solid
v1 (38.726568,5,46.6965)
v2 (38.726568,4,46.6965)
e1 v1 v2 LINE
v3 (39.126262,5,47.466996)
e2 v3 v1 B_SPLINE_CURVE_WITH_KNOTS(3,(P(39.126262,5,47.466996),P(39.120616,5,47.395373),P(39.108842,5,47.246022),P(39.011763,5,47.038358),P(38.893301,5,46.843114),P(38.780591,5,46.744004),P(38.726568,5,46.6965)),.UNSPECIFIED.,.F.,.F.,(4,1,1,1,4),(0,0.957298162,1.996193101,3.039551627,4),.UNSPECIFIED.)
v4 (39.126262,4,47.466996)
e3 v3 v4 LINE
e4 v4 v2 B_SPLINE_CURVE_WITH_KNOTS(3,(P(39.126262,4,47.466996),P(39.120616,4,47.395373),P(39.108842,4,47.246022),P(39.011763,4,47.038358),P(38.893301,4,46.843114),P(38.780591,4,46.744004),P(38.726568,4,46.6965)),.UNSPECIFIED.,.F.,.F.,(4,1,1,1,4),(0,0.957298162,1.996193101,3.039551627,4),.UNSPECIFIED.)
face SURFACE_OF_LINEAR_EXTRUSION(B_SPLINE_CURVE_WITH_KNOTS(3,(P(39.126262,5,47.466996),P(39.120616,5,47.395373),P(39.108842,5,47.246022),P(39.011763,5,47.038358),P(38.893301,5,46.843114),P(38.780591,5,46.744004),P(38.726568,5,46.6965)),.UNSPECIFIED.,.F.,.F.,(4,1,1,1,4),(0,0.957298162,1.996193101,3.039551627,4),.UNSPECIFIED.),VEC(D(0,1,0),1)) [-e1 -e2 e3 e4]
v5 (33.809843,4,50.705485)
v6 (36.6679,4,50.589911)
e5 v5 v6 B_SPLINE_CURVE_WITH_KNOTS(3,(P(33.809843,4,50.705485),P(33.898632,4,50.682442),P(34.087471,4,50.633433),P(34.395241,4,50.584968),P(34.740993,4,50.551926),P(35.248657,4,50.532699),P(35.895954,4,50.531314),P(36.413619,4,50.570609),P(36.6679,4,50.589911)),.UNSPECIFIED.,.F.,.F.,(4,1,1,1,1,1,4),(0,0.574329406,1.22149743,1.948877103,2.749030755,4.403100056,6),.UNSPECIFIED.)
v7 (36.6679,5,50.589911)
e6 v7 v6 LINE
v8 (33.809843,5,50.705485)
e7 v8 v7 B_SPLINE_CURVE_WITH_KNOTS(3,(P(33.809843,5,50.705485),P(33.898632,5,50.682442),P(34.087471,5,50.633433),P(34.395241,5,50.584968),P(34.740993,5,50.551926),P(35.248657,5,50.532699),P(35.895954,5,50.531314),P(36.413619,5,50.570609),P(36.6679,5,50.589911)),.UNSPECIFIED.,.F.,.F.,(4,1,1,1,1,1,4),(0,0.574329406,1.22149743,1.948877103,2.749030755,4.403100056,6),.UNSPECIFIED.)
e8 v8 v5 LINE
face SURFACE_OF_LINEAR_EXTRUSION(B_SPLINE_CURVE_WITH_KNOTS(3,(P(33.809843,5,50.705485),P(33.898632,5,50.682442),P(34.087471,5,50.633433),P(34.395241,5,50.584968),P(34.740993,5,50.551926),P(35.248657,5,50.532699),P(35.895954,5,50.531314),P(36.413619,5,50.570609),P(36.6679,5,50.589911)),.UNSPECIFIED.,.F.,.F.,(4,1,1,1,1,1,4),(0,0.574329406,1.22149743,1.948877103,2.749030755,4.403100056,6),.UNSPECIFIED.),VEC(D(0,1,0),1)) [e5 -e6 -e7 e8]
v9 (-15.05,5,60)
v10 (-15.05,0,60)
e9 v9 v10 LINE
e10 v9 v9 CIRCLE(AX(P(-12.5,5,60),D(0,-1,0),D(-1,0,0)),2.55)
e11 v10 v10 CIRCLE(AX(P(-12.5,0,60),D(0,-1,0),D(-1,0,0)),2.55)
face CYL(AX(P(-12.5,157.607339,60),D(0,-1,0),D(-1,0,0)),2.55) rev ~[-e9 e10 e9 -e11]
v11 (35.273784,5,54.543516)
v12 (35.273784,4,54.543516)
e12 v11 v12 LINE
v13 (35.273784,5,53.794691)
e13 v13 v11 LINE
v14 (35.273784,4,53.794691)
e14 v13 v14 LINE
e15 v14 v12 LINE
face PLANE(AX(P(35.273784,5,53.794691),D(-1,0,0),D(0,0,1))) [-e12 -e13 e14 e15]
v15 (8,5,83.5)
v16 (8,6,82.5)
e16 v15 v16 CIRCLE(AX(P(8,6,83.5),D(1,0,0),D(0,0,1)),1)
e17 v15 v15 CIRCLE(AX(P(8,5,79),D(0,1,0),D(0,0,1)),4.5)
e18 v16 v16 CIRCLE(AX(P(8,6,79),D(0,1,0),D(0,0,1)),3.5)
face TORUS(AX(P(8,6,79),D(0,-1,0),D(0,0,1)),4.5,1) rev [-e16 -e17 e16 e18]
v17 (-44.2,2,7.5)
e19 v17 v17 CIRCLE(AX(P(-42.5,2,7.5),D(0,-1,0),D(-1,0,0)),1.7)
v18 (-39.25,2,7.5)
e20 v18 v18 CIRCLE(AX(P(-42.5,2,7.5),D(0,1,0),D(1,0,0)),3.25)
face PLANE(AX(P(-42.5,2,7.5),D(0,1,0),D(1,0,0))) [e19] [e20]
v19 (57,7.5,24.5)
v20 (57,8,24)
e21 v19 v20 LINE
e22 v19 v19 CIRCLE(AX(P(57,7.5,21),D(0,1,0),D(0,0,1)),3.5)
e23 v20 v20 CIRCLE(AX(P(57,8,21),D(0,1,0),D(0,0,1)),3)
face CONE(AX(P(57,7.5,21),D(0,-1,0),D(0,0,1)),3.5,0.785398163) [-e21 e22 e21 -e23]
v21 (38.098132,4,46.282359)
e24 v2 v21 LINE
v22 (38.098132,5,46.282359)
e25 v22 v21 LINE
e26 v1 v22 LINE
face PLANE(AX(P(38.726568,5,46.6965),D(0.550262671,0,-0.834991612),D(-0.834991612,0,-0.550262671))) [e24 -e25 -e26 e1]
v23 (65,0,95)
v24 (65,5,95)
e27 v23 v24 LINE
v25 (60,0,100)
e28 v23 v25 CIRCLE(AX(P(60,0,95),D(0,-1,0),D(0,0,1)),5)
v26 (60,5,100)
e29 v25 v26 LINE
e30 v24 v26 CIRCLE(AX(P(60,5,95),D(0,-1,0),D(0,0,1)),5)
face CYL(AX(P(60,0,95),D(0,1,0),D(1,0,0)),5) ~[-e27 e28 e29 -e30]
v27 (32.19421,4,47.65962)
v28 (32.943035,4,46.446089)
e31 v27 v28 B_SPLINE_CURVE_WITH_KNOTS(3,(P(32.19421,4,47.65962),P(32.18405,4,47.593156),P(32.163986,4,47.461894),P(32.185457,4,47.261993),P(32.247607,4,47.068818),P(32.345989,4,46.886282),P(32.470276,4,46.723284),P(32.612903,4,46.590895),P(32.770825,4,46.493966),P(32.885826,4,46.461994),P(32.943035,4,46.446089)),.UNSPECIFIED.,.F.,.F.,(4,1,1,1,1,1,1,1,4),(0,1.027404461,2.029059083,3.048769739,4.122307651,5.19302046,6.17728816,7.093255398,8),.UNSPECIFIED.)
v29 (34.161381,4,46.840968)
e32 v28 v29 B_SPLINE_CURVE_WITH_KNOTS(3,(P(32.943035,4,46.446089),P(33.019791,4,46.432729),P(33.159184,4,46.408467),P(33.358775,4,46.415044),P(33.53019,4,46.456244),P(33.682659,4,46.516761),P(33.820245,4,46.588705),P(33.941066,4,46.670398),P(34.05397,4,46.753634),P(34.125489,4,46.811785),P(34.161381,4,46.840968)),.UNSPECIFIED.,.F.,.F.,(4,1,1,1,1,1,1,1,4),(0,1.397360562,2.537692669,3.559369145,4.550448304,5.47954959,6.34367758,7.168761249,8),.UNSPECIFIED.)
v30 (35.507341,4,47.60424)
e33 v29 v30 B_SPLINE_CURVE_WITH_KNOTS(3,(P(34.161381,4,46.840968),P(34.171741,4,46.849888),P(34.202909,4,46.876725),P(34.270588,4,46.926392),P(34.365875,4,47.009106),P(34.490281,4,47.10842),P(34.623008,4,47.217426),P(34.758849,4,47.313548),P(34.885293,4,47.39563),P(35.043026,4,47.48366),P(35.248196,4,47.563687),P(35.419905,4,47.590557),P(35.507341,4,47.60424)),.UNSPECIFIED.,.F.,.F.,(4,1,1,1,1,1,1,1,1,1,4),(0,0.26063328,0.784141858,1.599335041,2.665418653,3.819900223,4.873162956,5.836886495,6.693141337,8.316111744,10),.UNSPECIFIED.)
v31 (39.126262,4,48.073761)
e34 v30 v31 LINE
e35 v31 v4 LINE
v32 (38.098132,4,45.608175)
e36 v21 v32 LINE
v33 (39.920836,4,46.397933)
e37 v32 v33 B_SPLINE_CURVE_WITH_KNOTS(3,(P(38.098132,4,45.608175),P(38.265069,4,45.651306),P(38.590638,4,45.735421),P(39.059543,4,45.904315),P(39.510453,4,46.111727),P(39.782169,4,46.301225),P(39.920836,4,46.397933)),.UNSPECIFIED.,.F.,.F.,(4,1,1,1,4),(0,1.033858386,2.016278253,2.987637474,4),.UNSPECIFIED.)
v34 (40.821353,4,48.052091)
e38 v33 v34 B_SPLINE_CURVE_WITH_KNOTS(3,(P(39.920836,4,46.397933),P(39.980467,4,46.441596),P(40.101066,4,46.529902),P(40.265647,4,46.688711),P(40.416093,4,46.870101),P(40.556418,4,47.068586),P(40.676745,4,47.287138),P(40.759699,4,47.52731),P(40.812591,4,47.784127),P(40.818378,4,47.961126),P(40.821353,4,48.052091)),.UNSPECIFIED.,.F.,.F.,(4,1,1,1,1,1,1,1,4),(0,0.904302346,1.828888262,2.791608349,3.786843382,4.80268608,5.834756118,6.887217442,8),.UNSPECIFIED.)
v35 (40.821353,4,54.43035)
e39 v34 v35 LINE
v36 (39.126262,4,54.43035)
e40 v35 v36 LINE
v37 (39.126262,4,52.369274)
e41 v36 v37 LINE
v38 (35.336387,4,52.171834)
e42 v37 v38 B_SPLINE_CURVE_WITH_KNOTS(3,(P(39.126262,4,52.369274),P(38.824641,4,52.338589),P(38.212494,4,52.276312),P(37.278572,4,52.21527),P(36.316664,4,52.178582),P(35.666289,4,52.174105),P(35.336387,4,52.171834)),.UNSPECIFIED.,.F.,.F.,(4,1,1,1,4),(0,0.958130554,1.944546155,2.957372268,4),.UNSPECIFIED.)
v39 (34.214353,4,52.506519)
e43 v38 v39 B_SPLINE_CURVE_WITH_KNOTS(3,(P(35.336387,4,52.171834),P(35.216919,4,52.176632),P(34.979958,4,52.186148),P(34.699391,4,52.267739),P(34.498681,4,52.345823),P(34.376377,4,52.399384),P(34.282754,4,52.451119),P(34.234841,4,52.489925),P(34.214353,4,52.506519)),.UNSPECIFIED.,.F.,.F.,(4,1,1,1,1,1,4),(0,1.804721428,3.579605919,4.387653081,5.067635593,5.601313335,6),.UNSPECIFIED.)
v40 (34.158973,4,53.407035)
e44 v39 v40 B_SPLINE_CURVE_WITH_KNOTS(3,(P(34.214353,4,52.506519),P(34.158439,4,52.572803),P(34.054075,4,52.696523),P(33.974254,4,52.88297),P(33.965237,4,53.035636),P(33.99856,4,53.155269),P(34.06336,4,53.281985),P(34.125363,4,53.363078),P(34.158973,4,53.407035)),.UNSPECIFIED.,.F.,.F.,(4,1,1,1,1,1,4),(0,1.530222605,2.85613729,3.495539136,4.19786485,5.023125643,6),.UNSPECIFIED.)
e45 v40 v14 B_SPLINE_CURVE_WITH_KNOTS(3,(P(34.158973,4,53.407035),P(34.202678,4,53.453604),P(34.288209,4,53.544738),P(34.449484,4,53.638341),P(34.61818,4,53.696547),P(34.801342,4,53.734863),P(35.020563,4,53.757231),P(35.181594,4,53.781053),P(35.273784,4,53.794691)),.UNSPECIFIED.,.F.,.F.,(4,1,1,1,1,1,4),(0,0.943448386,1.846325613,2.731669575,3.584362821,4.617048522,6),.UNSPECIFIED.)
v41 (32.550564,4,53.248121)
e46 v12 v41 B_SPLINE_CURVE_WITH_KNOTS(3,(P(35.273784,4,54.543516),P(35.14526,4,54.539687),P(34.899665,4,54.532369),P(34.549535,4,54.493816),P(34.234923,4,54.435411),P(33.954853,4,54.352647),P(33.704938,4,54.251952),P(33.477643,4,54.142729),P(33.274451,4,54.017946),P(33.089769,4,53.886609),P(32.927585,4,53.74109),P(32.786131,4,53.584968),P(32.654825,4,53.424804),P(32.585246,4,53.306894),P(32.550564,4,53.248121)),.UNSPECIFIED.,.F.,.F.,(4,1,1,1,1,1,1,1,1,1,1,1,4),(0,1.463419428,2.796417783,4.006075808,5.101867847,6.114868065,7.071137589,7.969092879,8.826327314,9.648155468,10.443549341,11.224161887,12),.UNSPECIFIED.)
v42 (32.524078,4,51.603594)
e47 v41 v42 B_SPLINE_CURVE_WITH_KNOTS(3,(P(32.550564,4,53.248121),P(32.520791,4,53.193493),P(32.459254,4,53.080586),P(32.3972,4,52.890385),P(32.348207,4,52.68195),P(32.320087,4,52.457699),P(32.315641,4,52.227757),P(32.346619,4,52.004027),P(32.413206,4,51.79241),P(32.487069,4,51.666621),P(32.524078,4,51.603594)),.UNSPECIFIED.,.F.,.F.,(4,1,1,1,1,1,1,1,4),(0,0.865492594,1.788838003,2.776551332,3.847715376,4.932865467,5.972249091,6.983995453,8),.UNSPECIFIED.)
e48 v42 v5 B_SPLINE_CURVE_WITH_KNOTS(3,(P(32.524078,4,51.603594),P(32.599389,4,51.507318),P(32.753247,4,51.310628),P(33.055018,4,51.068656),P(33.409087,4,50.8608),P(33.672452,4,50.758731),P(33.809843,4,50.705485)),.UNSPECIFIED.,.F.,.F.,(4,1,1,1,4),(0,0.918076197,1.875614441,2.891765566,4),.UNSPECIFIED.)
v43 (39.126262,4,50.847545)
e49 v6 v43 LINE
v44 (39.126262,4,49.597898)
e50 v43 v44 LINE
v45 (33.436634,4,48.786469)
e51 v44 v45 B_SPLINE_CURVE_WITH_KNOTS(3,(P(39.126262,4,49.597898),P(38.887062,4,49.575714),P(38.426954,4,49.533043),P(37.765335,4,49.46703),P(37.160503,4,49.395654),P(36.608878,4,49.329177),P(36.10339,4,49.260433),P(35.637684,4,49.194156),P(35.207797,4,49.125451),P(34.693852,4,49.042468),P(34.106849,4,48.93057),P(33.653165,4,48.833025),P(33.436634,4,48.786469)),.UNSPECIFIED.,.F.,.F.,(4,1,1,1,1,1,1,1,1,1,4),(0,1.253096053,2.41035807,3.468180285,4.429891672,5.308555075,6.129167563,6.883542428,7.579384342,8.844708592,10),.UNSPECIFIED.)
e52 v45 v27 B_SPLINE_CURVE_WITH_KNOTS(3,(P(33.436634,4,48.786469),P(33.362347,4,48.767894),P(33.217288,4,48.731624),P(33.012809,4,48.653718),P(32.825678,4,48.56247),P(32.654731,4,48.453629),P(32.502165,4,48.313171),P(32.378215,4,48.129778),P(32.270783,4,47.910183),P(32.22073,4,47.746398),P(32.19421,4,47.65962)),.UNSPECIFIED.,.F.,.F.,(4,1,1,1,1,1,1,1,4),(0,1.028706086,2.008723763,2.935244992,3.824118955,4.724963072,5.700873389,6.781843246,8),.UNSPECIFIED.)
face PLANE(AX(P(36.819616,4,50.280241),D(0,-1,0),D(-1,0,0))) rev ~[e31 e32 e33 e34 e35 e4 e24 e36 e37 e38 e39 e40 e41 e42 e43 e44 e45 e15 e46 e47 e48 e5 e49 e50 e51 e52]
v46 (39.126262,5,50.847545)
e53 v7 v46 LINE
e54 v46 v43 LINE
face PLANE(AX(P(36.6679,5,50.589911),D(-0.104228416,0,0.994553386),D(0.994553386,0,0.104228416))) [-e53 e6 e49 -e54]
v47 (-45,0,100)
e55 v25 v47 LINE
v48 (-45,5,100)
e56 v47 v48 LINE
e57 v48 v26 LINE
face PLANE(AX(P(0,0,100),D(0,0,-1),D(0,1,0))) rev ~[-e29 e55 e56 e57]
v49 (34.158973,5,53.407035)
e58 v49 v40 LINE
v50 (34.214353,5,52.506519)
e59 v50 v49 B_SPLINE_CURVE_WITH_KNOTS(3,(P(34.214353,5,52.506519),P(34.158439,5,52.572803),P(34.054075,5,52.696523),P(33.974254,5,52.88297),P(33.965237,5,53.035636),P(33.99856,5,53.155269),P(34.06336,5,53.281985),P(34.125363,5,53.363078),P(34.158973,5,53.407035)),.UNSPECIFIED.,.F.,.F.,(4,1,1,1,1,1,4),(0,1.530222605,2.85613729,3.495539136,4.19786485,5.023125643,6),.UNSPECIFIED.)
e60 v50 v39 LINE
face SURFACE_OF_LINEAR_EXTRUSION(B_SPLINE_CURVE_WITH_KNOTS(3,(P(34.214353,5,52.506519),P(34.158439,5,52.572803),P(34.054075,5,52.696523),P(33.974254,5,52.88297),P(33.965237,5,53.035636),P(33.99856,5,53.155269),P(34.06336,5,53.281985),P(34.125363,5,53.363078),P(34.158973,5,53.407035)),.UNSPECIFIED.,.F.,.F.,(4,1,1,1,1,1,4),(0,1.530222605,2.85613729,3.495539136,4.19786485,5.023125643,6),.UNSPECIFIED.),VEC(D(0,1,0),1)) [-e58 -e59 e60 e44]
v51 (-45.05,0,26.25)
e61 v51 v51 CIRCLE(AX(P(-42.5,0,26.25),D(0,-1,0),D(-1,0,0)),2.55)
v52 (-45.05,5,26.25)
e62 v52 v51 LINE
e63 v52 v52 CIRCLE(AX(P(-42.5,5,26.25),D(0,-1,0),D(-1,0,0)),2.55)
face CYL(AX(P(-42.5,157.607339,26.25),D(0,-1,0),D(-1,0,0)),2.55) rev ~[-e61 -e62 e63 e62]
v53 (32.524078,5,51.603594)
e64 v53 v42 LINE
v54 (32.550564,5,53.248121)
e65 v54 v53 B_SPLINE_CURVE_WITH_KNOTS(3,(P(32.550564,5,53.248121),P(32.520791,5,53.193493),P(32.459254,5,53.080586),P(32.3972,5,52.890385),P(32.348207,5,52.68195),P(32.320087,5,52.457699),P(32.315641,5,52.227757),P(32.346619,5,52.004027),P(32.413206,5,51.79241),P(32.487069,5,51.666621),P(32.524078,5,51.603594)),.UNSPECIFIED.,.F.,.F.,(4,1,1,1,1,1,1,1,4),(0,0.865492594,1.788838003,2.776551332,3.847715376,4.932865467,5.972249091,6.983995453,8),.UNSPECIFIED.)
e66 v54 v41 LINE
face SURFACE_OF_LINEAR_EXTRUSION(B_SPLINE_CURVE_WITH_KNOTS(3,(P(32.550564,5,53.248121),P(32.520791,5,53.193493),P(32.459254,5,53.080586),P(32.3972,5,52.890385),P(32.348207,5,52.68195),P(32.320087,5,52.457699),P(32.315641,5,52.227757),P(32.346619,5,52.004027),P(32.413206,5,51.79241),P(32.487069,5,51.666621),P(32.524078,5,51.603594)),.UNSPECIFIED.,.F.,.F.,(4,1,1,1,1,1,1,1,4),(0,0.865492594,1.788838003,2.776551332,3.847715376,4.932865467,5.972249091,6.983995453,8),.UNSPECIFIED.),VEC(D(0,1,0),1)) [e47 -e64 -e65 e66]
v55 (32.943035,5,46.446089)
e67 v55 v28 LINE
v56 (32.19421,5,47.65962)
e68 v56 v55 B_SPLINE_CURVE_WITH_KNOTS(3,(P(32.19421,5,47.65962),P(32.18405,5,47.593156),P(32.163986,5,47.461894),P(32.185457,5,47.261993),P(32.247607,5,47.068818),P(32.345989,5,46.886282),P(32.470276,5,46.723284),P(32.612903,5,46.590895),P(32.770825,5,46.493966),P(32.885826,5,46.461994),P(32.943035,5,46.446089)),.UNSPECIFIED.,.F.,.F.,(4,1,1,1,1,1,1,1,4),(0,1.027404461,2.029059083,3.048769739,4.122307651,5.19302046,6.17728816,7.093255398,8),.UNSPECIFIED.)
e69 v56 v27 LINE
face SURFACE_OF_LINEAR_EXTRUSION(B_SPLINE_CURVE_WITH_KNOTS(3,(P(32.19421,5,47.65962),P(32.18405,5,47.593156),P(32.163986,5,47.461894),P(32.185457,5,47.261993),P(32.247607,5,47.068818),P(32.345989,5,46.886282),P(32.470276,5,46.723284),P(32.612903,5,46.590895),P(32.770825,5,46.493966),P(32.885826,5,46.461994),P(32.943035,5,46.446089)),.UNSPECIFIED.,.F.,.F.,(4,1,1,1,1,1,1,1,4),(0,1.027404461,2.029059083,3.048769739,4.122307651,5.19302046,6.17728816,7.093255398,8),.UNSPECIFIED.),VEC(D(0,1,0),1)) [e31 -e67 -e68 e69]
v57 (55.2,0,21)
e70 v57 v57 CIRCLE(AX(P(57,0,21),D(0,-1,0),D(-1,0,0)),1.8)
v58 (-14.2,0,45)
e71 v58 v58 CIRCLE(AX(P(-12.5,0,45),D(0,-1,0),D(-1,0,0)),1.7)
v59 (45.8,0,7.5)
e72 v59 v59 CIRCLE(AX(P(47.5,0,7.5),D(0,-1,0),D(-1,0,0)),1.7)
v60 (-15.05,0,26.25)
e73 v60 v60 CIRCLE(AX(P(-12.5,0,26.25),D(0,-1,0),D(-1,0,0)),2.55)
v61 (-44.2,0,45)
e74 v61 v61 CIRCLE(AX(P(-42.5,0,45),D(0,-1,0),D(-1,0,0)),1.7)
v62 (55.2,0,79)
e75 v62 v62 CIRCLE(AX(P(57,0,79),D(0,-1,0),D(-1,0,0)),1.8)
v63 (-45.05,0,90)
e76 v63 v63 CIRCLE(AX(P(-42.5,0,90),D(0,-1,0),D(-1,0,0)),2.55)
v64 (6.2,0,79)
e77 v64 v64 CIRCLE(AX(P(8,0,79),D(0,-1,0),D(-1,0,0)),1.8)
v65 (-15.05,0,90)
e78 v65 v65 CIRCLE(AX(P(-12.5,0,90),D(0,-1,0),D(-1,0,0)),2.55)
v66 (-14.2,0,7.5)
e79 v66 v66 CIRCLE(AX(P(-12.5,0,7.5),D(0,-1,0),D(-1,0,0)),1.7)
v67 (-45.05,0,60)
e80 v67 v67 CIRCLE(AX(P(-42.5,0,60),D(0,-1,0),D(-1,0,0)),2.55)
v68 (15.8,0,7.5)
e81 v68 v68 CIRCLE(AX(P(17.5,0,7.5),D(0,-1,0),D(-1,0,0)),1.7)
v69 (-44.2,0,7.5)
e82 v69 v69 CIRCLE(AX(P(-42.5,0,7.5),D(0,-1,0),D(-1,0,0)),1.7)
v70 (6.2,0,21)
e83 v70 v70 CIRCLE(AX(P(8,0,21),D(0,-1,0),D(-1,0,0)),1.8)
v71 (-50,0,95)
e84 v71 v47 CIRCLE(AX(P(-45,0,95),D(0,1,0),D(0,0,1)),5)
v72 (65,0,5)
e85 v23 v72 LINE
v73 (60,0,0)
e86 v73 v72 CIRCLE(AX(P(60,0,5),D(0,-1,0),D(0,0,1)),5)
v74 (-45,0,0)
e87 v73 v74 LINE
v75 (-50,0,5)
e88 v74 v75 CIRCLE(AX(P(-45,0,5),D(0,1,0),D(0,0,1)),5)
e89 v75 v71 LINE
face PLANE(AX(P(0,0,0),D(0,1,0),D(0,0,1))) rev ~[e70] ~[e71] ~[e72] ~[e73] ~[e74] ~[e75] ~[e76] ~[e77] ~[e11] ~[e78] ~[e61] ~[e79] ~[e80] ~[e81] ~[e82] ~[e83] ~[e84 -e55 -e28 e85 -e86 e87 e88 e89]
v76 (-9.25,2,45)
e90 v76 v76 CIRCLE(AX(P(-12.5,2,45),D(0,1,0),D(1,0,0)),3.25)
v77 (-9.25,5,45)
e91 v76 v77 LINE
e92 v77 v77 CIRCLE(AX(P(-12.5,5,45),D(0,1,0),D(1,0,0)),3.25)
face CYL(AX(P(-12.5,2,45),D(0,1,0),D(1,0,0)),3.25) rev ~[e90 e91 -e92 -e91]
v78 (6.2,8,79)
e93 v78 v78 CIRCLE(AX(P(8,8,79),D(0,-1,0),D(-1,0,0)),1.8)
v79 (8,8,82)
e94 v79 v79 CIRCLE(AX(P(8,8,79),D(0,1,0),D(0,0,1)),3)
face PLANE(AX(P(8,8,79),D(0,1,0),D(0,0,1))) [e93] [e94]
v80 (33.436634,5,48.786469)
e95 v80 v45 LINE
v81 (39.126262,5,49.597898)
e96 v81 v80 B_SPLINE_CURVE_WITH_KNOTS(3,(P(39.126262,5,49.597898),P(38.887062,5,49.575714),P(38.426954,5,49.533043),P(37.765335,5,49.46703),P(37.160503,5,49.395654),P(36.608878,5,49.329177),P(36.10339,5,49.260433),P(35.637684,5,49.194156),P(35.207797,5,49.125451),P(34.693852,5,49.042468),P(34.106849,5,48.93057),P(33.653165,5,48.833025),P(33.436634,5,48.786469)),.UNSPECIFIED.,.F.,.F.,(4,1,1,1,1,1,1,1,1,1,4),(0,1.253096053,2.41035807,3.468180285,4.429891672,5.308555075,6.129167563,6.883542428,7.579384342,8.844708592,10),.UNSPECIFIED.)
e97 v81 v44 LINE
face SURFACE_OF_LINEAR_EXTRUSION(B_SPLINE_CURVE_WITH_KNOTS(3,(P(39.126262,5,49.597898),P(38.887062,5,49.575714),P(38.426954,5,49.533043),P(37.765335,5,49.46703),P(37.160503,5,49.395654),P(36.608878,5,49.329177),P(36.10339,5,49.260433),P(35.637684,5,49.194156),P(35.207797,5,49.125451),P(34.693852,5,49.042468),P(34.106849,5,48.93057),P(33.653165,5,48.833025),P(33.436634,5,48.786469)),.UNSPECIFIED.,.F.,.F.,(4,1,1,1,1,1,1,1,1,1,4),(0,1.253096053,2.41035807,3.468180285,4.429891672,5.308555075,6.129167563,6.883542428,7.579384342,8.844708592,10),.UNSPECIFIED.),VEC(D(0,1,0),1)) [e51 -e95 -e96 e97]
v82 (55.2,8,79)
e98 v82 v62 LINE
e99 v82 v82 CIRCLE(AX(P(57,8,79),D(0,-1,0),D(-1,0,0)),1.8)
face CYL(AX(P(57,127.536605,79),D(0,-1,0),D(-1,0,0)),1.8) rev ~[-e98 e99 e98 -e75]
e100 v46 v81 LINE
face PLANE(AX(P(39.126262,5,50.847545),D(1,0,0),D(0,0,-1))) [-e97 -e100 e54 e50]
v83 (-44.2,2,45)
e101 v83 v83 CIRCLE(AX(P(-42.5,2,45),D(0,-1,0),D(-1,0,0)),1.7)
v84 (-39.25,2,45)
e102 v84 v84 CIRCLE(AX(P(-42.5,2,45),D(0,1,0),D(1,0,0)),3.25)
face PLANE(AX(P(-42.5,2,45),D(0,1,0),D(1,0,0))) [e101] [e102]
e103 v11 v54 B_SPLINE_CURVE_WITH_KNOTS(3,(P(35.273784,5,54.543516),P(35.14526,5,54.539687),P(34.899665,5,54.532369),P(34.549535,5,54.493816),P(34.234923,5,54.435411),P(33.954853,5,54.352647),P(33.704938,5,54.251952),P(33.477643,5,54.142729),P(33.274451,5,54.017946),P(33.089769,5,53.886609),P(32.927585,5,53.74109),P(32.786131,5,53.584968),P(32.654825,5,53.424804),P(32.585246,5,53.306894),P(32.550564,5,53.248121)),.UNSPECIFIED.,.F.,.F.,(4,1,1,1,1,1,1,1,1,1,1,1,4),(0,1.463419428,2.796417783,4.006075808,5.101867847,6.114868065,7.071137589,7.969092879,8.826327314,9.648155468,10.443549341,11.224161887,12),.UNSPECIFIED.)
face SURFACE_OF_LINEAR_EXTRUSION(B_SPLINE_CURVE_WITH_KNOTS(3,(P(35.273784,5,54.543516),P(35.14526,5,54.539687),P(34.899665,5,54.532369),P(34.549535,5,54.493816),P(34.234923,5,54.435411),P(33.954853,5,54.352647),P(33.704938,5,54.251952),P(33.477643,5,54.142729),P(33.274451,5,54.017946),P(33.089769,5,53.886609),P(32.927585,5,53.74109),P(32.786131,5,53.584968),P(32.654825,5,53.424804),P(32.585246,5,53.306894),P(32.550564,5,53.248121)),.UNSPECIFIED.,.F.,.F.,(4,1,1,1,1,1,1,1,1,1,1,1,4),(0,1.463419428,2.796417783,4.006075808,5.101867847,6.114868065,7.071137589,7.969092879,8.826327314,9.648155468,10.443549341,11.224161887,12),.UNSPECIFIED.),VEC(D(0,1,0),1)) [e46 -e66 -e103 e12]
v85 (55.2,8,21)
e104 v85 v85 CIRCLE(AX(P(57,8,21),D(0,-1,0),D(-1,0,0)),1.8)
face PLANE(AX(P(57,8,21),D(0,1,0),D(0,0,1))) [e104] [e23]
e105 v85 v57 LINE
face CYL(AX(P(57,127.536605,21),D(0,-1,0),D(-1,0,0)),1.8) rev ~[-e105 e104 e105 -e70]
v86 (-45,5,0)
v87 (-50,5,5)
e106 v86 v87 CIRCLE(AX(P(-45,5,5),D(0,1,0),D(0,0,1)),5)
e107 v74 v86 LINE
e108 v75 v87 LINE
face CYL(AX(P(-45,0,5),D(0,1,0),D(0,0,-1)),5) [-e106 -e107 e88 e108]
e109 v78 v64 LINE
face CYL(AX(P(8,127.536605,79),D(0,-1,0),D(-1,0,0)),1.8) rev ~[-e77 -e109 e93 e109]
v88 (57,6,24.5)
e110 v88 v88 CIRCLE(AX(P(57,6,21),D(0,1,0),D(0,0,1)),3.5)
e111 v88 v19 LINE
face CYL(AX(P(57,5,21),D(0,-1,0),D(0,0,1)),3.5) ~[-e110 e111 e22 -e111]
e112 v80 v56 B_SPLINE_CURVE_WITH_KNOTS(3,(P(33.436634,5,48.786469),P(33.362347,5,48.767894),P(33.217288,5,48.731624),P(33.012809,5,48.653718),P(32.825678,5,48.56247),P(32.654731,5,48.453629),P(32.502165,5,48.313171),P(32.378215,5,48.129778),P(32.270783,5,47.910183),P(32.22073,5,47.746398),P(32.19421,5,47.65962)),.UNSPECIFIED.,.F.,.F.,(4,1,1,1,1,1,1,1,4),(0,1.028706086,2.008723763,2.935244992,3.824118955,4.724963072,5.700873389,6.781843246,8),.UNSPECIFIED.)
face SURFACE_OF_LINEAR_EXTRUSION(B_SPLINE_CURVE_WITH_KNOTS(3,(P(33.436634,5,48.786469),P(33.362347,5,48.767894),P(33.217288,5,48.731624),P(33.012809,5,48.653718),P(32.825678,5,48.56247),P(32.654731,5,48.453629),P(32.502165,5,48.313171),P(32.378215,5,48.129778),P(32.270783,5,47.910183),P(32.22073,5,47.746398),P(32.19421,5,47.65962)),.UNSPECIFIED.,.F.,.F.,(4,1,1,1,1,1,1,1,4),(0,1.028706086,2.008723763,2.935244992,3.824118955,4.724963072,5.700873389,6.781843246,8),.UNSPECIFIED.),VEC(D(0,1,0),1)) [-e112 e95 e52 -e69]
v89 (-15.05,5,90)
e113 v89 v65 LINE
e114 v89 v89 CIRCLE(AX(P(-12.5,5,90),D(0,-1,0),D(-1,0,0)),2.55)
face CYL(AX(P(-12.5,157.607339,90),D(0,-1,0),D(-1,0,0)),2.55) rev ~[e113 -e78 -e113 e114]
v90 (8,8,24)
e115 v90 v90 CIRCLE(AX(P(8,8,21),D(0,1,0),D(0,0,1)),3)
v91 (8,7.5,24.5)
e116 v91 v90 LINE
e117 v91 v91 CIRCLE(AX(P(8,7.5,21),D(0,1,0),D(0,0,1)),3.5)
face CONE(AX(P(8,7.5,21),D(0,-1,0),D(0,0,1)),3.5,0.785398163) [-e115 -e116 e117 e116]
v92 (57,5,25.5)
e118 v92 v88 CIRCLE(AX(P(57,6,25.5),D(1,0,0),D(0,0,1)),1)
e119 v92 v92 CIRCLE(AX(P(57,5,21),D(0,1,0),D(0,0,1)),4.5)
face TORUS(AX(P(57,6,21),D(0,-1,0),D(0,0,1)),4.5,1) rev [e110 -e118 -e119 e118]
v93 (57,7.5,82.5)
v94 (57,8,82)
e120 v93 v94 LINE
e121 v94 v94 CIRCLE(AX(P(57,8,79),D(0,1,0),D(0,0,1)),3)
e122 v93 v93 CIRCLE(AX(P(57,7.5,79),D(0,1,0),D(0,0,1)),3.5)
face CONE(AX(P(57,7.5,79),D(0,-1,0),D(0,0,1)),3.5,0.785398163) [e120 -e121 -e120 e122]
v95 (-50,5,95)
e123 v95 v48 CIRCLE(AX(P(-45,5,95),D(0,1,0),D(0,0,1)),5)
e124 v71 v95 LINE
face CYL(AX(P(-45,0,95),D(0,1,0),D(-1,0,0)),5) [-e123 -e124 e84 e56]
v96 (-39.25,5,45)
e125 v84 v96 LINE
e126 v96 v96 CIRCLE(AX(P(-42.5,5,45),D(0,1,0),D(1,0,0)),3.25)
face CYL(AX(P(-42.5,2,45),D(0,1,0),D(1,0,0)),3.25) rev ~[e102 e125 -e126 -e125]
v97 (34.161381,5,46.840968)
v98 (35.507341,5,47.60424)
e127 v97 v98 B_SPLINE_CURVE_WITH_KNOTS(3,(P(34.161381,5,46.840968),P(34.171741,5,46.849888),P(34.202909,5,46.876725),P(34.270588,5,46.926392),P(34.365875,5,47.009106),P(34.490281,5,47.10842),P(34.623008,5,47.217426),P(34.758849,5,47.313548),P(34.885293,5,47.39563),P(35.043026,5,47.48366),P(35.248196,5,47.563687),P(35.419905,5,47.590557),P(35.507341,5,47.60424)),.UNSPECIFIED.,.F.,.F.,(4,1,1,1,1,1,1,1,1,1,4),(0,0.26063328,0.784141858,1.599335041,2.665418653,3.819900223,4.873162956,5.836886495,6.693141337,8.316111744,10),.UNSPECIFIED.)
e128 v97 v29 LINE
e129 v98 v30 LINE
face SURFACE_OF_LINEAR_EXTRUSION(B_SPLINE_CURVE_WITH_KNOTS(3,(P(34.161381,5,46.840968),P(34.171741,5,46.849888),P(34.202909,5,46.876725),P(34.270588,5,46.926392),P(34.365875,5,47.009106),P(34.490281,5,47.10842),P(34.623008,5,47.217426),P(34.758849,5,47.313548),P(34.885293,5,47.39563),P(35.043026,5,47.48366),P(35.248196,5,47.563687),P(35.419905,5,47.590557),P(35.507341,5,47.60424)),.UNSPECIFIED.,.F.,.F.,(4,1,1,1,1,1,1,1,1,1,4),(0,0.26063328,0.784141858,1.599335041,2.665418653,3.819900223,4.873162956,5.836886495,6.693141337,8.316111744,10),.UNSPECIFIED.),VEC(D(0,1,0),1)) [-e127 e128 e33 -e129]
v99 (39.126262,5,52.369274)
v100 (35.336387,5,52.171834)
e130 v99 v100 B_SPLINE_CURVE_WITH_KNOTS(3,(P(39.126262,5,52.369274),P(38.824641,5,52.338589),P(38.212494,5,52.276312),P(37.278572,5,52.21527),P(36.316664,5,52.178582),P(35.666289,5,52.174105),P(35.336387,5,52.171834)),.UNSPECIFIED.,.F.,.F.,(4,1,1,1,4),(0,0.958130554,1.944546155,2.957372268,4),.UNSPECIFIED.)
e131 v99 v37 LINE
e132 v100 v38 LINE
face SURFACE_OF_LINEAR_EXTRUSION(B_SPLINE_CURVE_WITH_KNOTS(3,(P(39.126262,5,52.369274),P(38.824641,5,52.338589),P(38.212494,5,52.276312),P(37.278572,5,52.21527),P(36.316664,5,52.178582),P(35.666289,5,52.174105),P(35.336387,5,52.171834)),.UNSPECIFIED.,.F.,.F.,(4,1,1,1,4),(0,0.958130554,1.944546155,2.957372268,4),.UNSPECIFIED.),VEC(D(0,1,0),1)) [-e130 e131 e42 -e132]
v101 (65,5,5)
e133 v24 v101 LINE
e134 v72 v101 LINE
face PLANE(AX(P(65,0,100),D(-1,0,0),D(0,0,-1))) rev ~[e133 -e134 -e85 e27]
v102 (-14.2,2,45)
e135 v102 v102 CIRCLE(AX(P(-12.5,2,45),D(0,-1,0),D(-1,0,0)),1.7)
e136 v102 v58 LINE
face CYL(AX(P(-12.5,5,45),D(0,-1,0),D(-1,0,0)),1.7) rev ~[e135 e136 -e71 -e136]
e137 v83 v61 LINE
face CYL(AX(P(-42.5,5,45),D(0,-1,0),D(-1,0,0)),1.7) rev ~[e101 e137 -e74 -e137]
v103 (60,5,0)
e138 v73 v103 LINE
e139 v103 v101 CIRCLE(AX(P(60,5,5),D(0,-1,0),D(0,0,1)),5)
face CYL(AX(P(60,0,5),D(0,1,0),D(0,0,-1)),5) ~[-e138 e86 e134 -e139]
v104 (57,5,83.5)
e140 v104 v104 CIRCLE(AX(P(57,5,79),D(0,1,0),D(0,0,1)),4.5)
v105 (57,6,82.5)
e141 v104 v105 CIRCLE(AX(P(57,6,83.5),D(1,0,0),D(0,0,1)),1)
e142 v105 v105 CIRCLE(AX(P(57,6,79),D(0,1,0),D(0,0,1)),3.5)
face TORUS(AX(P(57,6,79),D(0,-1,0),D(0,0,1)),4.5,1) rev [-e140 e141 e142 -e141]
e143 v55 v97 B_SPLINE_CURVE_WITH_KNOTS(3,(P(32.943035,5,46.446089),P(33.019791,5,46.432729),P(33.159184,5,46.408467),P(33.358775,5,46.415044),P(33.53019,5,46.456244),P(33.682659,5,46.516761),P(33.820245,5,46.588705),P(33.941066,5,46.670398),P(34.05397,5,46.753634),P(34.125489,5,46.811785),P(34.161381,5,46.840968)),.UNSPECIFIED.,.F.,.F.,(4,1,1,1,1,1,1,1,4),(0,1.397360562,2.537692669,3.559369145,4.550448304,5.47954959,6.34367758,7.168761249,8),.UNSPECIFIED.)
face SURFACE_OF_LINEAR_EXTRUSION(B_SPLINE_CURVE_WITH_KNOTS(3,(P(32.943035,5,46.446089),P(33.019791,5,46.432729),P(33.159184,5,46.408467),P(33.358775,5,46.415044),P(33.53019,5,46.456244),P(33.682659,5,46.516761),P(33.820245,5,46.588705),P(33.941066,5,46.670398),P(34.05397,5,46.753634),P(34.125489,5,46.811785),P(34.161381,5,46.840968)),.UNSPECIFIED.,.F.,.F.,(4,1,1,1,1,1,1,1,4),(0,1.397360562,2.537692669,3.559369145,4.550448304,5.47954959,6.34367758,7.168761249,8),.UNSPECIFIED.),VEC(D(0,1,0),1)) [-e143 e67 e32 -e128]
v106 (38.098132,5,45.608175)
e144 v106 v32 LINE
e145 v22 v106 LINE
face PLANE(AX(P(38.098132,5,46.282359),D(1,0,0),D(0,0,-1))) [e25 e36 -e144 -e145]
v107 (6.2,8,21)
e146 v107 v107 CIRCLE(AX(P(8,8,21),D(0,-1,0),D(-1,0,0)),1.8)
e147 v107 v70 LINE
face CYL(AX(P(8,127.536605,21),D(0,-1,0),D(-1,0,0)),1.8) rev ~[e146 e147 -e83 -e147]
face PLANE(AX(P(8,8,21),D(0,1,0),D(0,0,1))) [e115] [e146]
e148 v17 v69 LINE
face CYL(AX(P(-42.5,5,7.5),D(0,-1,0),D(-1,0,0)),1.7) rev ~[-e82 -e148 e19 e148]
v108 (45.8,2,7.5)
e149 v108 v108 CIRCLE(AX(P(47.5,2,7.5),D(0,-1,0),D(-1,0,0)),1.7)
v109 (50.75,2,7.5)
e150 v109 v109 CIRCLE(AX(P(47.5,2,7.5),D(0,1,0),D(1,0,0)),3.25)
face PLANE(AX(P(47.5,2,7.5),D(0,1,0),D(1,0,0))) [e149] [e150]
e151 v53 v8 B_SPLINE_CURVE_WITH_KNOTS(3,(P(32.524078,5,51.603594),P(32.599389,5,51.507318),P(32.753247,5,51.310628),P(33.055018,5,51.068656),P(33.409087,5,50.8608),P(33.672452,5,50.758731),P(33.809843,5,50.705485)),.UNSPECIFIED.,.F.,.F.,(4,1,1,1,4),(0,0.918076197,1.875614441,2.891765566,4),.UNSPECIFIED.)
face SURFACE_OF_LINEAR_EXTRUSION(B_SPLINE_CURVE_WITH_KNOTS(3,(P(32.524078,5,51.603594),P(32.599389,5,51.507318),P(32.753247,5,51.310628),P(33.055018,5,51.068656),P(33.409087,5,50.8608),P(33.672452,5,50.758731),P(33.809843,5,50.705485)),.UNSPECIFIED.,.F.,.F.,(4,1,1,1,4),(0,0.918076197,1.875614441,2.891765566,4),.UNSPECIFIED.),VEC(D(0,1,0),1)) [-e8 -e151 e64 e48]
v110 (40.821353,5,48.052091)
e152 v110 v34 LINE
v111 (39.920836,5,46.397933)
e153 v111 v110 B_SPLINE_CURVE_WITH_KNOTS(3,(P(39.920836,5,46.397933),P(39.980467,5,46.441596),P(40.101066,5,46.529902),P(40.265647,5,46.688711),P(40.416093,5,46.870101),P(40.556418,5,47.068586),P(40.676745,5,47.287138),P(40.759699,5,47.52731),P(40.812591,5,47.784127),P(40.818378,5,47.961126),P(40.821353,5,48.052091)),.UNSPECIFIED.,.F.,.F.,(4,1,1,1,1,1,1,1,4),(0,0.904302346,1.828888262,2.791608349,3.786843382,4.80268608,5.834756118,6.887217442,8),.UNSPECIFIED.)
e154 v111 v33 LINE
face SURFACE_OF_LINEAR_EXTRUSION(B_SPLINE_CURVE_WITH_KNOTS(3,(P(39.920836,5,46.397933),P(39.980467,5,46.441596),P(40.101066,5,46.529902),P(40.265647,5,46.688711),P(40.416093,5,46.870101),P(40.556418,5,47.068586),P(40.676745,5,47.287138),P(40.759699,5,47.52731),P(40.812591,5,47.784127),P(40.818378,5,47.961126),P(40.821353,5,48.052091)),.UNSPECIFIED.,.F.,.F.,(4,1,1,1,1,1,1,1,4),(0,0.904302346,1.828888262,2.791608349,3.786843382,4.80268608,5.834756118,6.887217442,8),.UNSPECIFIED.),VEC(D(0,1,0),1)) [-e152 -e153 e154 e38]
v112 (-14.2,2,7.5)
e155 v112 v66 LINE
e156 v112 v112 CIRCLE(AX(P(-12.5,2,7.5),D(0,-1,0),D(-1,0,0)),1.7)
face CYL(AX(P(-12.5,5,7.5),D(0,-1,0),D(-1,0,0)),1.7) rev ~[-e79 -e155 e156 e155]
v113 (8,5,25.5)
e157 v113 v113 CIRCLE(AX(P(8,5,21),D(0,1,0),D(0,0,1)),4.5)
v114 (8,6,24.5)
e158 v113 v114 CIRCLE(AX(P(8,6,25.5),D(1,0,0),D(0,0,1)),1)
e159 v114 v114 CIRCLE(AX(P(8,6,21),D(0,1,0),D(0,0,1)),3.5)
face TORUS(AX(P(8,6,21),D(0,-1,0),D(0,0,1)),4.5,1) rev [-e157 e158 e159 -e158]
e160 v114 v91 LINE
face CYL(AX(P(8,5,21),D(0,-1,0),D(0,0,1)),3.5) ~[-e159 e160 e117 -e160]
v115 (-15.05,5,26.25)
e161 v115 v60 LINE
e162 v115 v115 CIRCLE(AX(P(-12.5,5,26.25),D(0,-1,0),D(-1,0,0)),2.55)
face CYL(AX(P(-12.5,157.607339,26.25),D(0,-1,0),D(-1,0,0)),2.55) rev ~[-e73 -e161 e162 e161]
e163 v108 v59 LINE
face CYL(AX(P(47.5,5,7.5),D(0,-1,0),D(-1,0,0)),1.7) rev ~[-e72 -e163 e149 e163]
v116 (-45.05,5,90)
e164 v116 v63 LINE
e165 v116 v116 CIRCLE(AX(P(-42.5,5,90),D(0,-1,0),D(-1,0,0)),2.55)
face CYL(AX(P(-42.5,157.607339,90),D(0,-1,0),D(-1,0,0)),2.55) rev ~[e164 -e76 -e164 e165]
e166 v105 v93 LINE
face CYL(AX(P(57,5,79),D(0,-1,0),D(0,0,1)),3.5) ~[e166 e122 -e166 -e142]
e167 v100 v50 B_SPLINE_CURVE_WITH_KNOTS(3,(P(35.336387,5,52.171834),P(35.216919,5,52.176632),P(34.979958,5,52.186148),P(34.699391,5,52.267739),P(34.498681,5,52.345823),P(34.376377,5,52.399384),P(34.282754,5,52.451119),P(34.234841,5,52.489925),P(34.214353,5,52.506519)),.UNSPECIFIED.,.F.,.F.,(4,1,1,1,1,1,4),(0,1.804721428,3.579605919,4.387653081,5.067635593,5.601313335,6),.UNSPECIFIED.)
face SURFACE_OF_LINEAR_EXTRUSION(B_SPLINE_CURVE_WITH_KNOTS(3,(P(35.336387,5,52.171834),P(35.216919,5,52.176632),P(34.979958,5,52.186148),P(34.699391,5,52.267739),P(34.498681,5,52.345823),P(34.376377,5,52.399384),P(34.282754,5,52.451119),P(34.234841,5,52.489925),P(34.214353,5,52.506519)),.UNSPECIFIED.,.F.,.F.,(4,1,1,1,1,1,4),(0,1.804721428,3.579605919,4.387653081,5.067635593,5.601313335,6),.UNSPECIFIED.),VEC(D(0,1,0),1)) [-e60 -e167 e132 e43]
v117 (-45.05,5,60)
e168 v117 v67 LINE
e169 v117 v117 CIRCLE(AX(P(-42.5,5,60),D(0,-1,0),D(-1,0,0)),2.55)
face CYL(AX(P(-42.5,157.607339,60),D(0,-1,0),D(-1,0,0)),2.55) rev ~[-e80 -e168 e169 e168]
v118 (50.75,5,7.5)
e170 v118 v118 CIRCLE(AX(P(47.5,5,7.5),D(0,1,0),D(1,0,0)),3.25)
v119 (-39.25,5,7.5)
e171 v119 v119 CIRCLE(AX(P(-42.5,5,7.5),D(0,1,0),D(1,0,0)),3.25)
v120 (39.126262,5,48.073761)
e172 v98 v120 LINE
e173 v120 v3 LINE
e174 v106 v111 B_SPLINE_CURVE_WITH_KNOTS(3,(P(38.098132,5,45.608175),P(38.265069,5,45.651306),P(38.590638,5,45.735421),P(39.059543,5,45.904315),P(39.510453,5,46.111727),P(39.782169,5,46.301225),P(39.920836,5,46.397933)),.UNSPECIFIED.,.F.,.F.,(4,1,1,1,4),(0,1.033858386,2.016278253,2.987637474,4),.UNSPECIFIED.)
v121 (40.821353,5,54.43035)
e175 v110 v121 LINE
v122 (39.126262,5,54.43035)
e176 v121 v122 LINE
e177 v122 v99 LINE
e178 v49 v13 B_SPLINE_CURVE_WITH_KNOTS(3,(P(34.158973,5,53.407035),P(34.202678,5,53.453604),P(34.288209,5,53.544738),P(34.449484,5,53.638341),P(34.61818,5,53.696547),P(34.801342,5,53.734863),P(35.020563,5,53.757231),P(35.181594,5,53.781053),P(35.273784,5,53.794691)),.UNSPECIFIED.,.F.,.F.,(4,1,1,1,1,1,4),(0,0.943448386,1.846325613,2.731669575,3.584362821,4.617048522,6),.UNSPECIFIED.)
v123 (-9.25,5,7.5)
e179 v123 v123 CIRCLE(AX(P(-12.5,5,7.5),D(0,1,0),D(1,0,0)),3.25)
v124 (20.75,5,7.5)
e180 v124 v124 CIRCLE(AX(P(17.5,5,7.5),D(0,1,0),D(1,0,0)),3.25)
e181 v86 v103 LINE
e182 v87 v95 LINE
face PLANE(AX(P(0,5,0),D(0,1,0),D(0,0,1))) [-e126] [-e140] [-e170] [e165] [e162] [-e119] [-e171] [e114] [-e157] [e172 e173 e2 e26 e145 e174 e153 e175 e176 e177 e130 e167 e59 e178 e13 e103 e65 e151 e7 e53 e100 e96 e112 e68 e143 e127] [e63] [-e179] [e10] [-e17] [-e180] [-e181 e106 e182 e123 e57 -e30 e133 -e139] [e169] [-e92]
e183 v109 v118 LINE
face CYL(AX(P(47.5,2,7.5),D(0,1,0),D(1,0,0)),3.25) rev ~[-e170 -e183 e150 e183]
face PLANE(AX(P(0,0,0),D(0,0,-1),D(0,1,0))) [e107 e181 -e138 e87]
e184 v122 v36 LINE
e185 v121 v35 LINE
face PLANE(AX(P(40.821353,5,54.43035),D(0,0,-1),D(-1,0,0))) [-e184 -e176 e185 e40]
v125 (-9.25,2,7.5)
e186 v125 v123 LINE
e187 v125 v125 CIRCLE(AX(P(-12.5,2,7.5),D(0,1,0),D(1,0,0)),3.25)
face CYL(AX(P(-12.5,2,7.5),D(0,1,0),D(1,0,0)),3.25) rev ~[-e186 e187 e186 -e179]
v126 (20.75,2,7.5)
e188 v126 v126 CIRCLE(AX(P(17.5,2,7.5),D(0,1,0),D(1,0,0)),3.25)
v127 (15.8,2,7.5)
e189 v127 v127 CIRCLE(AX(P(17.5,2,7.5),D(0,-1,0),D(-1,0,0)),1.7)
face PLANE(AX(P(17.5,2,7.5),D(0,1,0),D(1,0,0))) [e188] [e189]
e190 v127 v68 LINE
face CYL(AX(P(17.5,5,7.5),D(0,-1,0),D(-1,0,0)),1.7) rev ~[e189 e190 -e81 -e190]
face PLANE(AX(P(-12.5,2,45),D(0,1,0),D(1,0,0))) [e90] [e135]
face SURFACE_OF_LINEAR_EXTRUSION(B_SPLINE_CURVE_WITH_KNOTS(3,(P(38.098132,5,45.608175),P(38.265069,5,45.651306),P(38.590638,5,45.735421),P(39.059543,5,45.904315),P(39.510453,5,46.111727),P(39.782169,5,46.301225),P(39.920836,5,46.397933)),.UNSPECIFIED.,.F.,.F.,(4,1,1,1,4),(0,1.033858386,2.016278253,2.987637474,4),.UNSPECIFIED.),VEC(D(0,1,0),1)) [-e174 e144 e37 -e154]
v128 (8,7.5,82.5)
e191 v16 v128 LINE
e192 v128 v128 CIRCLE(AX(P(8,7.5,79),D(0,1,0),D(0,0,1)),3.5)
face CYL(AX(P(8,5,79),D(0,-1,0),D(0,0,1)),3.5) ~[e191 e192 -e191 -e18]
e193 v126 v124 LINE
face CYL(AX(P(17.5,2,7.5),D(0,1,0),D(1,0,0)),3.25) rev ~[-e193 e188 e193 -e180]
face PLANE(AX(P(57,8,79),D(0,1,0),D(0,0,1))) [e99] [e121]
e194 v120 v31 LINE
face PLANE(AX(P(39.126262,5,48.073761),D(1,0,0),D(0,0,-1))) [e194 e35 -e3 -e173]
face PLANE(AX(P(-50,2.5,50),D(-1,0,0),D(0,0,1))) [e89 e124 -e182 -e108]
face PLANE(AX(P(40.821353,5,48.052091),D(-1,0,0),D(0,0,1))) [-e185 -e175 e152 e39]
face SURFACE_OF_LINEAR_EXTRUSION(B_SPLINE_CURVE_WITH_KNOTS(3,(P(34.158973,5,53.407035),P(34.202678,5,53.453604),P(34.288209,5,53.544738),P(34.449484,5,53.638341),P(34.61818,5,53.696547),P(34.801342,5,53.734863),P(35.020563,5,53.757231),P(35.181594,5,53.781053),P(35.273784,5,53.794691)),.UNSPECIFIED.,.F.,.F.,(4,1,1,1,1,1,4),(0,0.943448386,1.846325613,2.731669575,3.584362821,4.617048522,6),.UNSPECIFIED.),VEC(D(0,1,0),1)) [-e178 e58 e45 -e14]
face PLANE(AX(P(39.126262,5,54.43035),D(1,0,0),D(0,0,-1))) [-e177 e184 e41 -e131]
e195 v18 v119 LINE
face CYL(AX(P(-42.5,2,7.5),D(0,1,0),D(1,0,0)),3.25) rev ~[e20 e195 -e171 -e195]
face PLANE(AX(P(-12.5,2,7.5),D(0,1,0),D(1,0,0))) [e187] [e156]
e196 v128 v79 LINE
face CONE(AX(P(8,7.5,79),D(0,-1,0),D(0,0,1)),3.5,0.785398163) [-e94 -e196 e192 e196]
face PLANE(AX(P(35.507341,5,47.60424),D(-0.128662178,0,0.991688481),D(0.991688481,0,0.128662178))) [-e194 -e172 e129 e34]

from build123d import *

# Parameters (mm, degrees)
SKETCH1_W                      = 65
SKETCH1_H                      = 100
BOSS_EXTRUDE1_DEPTH            = 5
SKETCH2_R                      = 3.5
BOSS_EXTRUDE2_DEPTH            = 3
F_3_6_3_6_DIAMETER_HOLE1_D     = 3.6
CBORE_FOR_M3_SHCS1_D           = 3.4
CBORE_FOR_M3_SHCS1_CBORE_D     = 6.5
CBORE_FOR_M3_SHCS1_CBORE_DEPTH = 3
SKETCH9_W                      = 100
SKETCH9_H                      = 5
BOSS_EXTRUDE3_DEPTH            = 50
CBORE_FOR_M3_SHCS2_D           = 3.4
CBORE_FOR_M3_SHCS2_CBORE_D     = 6.5
CBORE_FOR_M3_SHCS2_CBORE_DEPTH = 3
F_5_1_5_1_DIAMETER_HOLE1_D     = 5.1
CUT_EXTRUDE1_DEPTH             = 1
FILLET1_R                      = 1
FILLET2_R                      = 5
CHAMFER2_SIZE                  = 0.5


with BuildPart() as part:
    # Sketch1 → Boss-Extrude1 (new body)
    with BuildSketch(Plane(origin=(0, 0, 0), x_dir=(1, 0, 0), z_dir=(0, 1, 0))):
        with Locations((32.5, -50)):
            Rectangle(SKETCH1_W, SKETCH1_H)
    extrude(amount=BOSS_EXTRUDE1_DEPTH)

    # Sketch2 → Boss-Extrude2 (add)
    with BuildSketch(Plane(origin=(0, 5, 0), x_dir=(1, 0, 0), z_dir=(0, 1, 0))):
        with Locations(Location((8, -21, 0), (0, 0, 270))):
            Circle(SKETCH2_R)
        with Locations(Location((57, -21, 0), (0, 0, 270))):
            Circle(SKETCH2_R)
        with Locations(Location((57, -79, 0), (0, 0, 270))):
            Circle(SKETCH2_R)
        with Locations(Location((8, -79, 0), (0, 0, 270))):
            Circle(SKETCH2_R)
    extrude(amount=BOSS_EXTRUDE2_DEPTH)

    # Ø3.6 (3.6) Diameter Hole1 (through all)
    with Locations(Plane(origin=(0, 8, 0), x_dir=(1, 0, 0), z_dir=(0, 1, 0))):
        with Locations((8, -21), (57, -21), (57, -79), (8, -79)):
            Hole(F_3_6_3_6_DIAMETER_HOLE1_D / 2)

    # CBORE for M3 SHCS1 (through all)
    with Locations(Plane(origin=(0, 5, 0), x_dir=(1, 0, 0), z_dir=(0, 1, 0))):
        with Locations((17.5, -7.5), (47.5, -7.5)):
            CounterBoreHole(CBORE_FOR_M3_SHCS1_D / 2, CBORE_FOR_M3_SHCS1_CBORE_D / 2, CBORE_FOR_M3_SHCS1_CBORE_DEPTH)

    # Sketch9 → Boss-Extrude3 (add)
    with BuildSketch(Plane.ZY):
        with Locations((50, 2.5)):
            Rectangle(SKETCH9_W, SKETCH9_H)
    extrude(amount=BOSS_EXTRUDE3_DEPTH)

    # CBORE for M3 SHCS2 (through all)
    with Locations(Plane(origin=(0, 5, 0), x_dir=(1, 0, 0), z_dir=(0, 1, 0))):
        with Locations((-42.5, -45), (-12.5, -7.5), (-42.5, -7.5), (-12.5, -45)):
            CounterBoreHole(CBORE_FOR_M3_SHCS2_D / 2, CBORE_FOR_M3_SHCS2_CBORE_D / 2, CBORE_FOR_M3_SHCS2_CBORE_DEPTH)

    # Ø5.1 (5.1) Diameter Hole1 (through all)
    with Locations(Plane(origin=(0, 5, 0), x_dir=(1, 0, 0), z_dir=(0, 1, 0))):
        with Locations((-12.5, -26.25), (-12.5, -60), (-12.5, -90), (-42.5, -90), (-42.5, -60), (-42.5, -26.25)):
            Hole(F_5_1_5_1_DIAMETER_HOLE1_D / 2)

    # Sketch16 → Cut-Extrude1 (cut)
    with BuildSketch(Plane(origin=(0, 5, 0), x_dir=(1, 0, 0), z_dir=(0, 1, 0))):
        with BuildLine():
            Line((39.126262207, -50.847545166), (39.126262207, -49.597897606))
            add(Edge.make_bspline(
                [(39.126262207, -49.597897606), (38.887061603, -49.575713781), (38.426953933, -49.5330427), (37.765335099, -49.467029699), (37.16050318, -49.395654418), (36.608878249, -49.329176979), (36.103389832, -49.260432621), (35.637684233, -49.194155672), (35.207796553, -49.125451167), (34.693851603, -49.042468377), (34.106849427, -48.930569543), (33.65316464, -48.833024779), (33.43663372, -48.786469421)],
                knots=[0, 0, 0, 0, 1.253096053, 2.41035807, 3.468180285, 4.429891672, 5.308555075, 6.129167563, 6.883542428, 7.579384342, 8.844708592, 10, 10, 10, 10], degree=3))
            add(Edge.make_bspline(
                [(33.43663372, -48.786469421), (33.362346649, -48.767894411), (33.217288497, -48.731623541), (33.012809199, -48.653717957), (32.825678299, -48.562470211), (32.654731085, -48.453628715), (32.502165181, -48.313171441), (32.378215441, -48.129778401), (32.270782782, -47.910183348), (32.22072951, -47.746398482), (32.194209557, -47.659619598)],
                knots=[0, 0, 0, 0, 1.028706086, 2.008723763, 2.935244992, 3.824118955, 4.724963072, 5.700873389, 6.781843246, 8, 8, 8, 8], degree=3))
            add(Edge.make_bspline(
                [(32.194209557, -47.659619598), (32.184050249, -47.593155924), (32.163986257, -47.461894353), (32.185456965, -47.261992825), (32.24760698, -47.068817641), (32.345988654, -46.886281707), (32.470276431, -46.723283517), (32.612903387, -46.590894898), (32.770825068, -46.49396615), (32.885825633, -46.461994139), (32.943034973, -46.44608902)],
                knots=[0, 0, 0, 0, 1.027404461, 2.029059083, 3.048769739, 4.122307651, 5.19302046, 6.17728816, 7.093255398, 8, 8, 8, 8], degree=3))
            add(Edge.make_bspline(
                [(32.943034973, -46.44608902), (33.019790611, -46.432729059), (33.159183567, -46.408466548), (33.358775166, -46.415044291), (33.530189985, -46.45624418), (33.682659012, -46.516761006), (33.820245014, -46.588705021), (33.94106644, -46.670397622), (34.053969979, -46.753634053), (34.125488835, -46.811784665), (34.161381149, -46.840968018)],
                knots=[0, 0, 0, 0, 1.397360562, 2.537692669, 3.559369145, 4.550448304, 5.47954959, 6.34367758, 7.168761249, 8, 8, 8, 8], degree=3))
            add(Edge.make_bspline(
                [(34.161381149, -46.840968018), (34.171740761, -46.84988817), (34.20290871, -46.876725361), (34.270587507, -46.926391538), (34.365875235, -47.009106142), (34.490280901, -47.108420261), (34.623007569, -47.217425956), (34.758849499, -47.313547894), (34.885293124, -47.395630136), (35.04302611, -47.483660165), (35.248195948, -47.563686604), (35.419904702, -47.590557351), (35.50734066, -47.604240227)],
                knots=[0, 0, 0, 0, 0.26063328, 0.784141858, 1.599335041, 2.665418653, 3.819900223, 4.873162956, 5.836886495, 6.693141337, 8.316111744, 10, 10, 10, 10], degree=3))
            Line((35.50734066, -47.604240227), (39.126262207, -48.073760986))
            Line((39.126262207, -48.073760986), (39.126262207, -47.466995697))
            add(Edge.make_bspline(
                [(39.126262207, -47.466995697), (39.120615941, -47.395372643), (39.108842141, -47.246021633), (39.011762919, -47.038358034), (38.893301343, -46.84311371), (38.780591009, -46.744004371), (38.726567612, -46.696500092)],
                knots=[0, 0, 0, 0, 0.957298162, 1.996193101, 3.039551627, 4, 4, 4, 4], degree=3))
            Line((38.726567612, -46.696500092), (38.098132133, -46.282358704))
            Line((38.098132133, -46.282358704), (38.098132133, -45.608175049))
            add(Edge.make_bspline(
                [(38.098132133, -45.608175049), (38.265069197, -45.651305716), (38.590637549, -45.73542113), (39.059543061, -45.904315208), (39.510452961, -46.111726833), (39.782169404, -46.301225336), (39.9208358, -46.397933044)],
                knots=[0, 0, 0, 0, 1.033858386, 2.016278253, 2.987637474, 4, 4, 4, 4], degree=3))
            add(Edge.make_bspline(
                [(39.9208358, -46.397933044), (39.980466774, -46.441596233), (40.101066248, -46.529901979), (40.265647201, -46.68871056), (40.416093013, -46.870100588), (40.556417575, -47.068585687), (40.676744862, -47.287138148), (40.759698519, -47.527310442), (40.812591451, -47.784126696), (40.818378437, -47.961125766), (40.821352539, -48.052090797)],
                knots=[0, 0, 0, 0, 0.904302346, 1.828888262, 2.791608349, 3.786843382, 4.80268608, 5.834756118, 6.887217442, 8, 8, 8, 8], degree=3))
            Line((40.821352539, -48.052090797), (40.821352539, -54.430349731))
            Line((40.821352539, -54.430349731), (39.126262207, -54.430349731))
            Line((39.126262207, -54.430349731), (39.126262207, -52.369273987))
            add(Edge.make_bspline(
                [(39.126262207, -52.369273987), (38.824641017, -52.338588763), (38.212494456, -52.276312453), (37.278571929, -52.215269505), (36.316663871, -52.178581692), (35.66628914, -52.174105191), (35.336386948, -52.171834488)],
                knots=[0, 0, 0, 0, 0.958130554, 1.944546155, 2.957372268, 4, 4, 4, 4], degree=3))
            add(Edge.make_bspline(
                [(35.336386948, -52.171834488), (35.216918961, -52.176632011), (34.979958118, -52.18614774), (34.699390908, -52.267738632), (34.498680733, -52.345822532), (34.376377238, -52.399383952), (34.282754213, -52.45111856), (34.234840863, -52.489924695), (34.214352722, -52.506518517)],
                knots=[0, 0, 0, 0, 1.804721428, 3.579605919, 4.387653081, 5.067635593, 5.601313335, 6, 6, 6, 6], degree=3))
            add(Edge.make_bspline(
                [(34.214352722, -52.506518517), (34.158438507, -52.572803412), (34.054075473, -52.696523165), (33.974254217, -52.882970365), (33.965236632, -53.035635661), (33.99855982, -53.155268657), (34.063359986, -53.281985338), (34.125363446, -53.363077846), (34.158973351, -53.407035255)],
                knots=[0, 0, 0, 0, 1.530222605, 2.85613729, 3.495539136, 4.19786485, 5.023125643, 6, 6, 6, 6], degree=3))
            add(Edge.make_bspline(
                [(34.158973351, -53.407035255), (34.202678445, -53.453603851), (34.288209182, -53.54473845), (34.449483531, -53.638340717), (34.618180335, -53.696546772), (34.801341682, -53.734863252), (35.02056346, -53.757230953), (35.181594158, -53.781052837), (35.27378418, -53.794690857)],
                knots=[0, 0, 0, 0, 0.943448386, 1.846325613, 2.731669575, 3.584362821, 4.617048522, 6, 6, 6, 6], degree=3))
            Line((35.27378418, -53.794690857), (35.27378418, -54.543516273))
            add(Edge.make_bspline(
                [(35.27378418, -54.543516273), (35.145259799, -54.539686724), (34.899665229, -54.532368918), (34.549534649, -54.49381644), (34.23492324, -54.435411311), (33.95485327, -54.352646637), (33.704937688, -54.251951832), (33.47764334, -54.142729191), (33.274451352, -54.017945692), (33.089768771, -53.886609091), (32.927584898, -53.741089605), (32.786131125, -53.584968182), (32.654824603, -53.424803574), (32.58524624, -53.30689432), (32.550563774, -53.248120537)],
                knots=[0, 0, 0, 0, 1.463419428, 2.796417783, 4.006075808, 5.101867847, 6.114868065, 7.071137589, 7.969092879, 8.826327314, 9.648155468, 10.443549341, 11.224161887, 12, 12, 12, 12], degree=3))
            add(Edge.make_bspline(
                [(32.550563774, -53.248120537), (32.520790697, -53.193492864), (32.459254397, -53.080585998), (32.397200219, -52.890384649), (32.348206864, -52.6819503), (32.320086722, -52.457698844), (32.315640727, -52.227756787), (32.34661926, -52.004027153), (32.413206209, -51.79241002), (32.487069025, -51.66662071), (32.524077988, -51.603593979)],
                knots=[0, 0, 0, 0, 0.865492594, 1.788838003, 2.776551332, 3.847715376, 4.932865467, 5.972249091, 6.983995453, 8, 8, 8, 8], degree=3))
            add(Edge.make_bspline(
                [(32.524077988, -51.603593979), (32.599388708, -51.507318221), (32.75324726, -51.310628445), (33.055018494, -51.068656229), (33.409086865, -50.860800161), (33.672452045, -50.758731497), (33.809842529, -50.705485039)],
                knots=[0, 0, 0, 0, 0.918076197, 1.875614441, 2.891765566, 4, 4, 4, 4], degree=3))
            add(Edge.make_bspline(
                [(33.809842529, -50.705485039), (33.898631758, -50.682441773), (34.087470798, -50.633432807), (34.395240763, -50.584968257), (34.740993079, -50.551926433), (35.248657148, -50.532699083), (35.895954097, -50.531314455), (36.413618911, -50.570608952), (36.667899666, -50.589910698)],
                knots=[0, 0, 0, 0, 0.574329406, 1.22149743, 1.948877103, 2.749030755, 4.403100056, 6, 6, 6, 6], degree=3))
            Line((36.667899666, -50.589910698), (39.126262207, -50.847545166))
        make_face()
    extrude(amount=-CUT_EXTRUDE1_DEPTH, mode=Mode.SUBTRACT)

    # Fillet1
    fillet1_edges = [part.edges().sort_by_distance(p)[0] for p in [
        (8, 5, 17.5),
        (57, 5, 17.5),
        (57, 5, 75.5),
        (8, 5, 75.5),
    ]]
    fillet(fillet1_edges, radius=FILLET1_R)

    # Fillet2
    fillet2_edges = [part.edges().sort_by_distance(p)[0] for p in [
        (-50, 2.5, 0),
        (-50, 2.5, 100),
        (65, 2.5, 0),
        (65, 2.5, 100),
    ]]
    fillet(fillet2_edges, radius=FILLET2_R)

    # Chamfer2
    chamfer2_edges = [part.edges().sort_by_distance(p)[0] for p in [
        (8, 8, 17.5),
        (57, 8, 17.5),
        (57, 8, 75.5),
        (8, 8, 75.5),
    ]]
    chamfer(chamfer2_edges, length=CHAMFER2_SIZE)


solid = part.part
